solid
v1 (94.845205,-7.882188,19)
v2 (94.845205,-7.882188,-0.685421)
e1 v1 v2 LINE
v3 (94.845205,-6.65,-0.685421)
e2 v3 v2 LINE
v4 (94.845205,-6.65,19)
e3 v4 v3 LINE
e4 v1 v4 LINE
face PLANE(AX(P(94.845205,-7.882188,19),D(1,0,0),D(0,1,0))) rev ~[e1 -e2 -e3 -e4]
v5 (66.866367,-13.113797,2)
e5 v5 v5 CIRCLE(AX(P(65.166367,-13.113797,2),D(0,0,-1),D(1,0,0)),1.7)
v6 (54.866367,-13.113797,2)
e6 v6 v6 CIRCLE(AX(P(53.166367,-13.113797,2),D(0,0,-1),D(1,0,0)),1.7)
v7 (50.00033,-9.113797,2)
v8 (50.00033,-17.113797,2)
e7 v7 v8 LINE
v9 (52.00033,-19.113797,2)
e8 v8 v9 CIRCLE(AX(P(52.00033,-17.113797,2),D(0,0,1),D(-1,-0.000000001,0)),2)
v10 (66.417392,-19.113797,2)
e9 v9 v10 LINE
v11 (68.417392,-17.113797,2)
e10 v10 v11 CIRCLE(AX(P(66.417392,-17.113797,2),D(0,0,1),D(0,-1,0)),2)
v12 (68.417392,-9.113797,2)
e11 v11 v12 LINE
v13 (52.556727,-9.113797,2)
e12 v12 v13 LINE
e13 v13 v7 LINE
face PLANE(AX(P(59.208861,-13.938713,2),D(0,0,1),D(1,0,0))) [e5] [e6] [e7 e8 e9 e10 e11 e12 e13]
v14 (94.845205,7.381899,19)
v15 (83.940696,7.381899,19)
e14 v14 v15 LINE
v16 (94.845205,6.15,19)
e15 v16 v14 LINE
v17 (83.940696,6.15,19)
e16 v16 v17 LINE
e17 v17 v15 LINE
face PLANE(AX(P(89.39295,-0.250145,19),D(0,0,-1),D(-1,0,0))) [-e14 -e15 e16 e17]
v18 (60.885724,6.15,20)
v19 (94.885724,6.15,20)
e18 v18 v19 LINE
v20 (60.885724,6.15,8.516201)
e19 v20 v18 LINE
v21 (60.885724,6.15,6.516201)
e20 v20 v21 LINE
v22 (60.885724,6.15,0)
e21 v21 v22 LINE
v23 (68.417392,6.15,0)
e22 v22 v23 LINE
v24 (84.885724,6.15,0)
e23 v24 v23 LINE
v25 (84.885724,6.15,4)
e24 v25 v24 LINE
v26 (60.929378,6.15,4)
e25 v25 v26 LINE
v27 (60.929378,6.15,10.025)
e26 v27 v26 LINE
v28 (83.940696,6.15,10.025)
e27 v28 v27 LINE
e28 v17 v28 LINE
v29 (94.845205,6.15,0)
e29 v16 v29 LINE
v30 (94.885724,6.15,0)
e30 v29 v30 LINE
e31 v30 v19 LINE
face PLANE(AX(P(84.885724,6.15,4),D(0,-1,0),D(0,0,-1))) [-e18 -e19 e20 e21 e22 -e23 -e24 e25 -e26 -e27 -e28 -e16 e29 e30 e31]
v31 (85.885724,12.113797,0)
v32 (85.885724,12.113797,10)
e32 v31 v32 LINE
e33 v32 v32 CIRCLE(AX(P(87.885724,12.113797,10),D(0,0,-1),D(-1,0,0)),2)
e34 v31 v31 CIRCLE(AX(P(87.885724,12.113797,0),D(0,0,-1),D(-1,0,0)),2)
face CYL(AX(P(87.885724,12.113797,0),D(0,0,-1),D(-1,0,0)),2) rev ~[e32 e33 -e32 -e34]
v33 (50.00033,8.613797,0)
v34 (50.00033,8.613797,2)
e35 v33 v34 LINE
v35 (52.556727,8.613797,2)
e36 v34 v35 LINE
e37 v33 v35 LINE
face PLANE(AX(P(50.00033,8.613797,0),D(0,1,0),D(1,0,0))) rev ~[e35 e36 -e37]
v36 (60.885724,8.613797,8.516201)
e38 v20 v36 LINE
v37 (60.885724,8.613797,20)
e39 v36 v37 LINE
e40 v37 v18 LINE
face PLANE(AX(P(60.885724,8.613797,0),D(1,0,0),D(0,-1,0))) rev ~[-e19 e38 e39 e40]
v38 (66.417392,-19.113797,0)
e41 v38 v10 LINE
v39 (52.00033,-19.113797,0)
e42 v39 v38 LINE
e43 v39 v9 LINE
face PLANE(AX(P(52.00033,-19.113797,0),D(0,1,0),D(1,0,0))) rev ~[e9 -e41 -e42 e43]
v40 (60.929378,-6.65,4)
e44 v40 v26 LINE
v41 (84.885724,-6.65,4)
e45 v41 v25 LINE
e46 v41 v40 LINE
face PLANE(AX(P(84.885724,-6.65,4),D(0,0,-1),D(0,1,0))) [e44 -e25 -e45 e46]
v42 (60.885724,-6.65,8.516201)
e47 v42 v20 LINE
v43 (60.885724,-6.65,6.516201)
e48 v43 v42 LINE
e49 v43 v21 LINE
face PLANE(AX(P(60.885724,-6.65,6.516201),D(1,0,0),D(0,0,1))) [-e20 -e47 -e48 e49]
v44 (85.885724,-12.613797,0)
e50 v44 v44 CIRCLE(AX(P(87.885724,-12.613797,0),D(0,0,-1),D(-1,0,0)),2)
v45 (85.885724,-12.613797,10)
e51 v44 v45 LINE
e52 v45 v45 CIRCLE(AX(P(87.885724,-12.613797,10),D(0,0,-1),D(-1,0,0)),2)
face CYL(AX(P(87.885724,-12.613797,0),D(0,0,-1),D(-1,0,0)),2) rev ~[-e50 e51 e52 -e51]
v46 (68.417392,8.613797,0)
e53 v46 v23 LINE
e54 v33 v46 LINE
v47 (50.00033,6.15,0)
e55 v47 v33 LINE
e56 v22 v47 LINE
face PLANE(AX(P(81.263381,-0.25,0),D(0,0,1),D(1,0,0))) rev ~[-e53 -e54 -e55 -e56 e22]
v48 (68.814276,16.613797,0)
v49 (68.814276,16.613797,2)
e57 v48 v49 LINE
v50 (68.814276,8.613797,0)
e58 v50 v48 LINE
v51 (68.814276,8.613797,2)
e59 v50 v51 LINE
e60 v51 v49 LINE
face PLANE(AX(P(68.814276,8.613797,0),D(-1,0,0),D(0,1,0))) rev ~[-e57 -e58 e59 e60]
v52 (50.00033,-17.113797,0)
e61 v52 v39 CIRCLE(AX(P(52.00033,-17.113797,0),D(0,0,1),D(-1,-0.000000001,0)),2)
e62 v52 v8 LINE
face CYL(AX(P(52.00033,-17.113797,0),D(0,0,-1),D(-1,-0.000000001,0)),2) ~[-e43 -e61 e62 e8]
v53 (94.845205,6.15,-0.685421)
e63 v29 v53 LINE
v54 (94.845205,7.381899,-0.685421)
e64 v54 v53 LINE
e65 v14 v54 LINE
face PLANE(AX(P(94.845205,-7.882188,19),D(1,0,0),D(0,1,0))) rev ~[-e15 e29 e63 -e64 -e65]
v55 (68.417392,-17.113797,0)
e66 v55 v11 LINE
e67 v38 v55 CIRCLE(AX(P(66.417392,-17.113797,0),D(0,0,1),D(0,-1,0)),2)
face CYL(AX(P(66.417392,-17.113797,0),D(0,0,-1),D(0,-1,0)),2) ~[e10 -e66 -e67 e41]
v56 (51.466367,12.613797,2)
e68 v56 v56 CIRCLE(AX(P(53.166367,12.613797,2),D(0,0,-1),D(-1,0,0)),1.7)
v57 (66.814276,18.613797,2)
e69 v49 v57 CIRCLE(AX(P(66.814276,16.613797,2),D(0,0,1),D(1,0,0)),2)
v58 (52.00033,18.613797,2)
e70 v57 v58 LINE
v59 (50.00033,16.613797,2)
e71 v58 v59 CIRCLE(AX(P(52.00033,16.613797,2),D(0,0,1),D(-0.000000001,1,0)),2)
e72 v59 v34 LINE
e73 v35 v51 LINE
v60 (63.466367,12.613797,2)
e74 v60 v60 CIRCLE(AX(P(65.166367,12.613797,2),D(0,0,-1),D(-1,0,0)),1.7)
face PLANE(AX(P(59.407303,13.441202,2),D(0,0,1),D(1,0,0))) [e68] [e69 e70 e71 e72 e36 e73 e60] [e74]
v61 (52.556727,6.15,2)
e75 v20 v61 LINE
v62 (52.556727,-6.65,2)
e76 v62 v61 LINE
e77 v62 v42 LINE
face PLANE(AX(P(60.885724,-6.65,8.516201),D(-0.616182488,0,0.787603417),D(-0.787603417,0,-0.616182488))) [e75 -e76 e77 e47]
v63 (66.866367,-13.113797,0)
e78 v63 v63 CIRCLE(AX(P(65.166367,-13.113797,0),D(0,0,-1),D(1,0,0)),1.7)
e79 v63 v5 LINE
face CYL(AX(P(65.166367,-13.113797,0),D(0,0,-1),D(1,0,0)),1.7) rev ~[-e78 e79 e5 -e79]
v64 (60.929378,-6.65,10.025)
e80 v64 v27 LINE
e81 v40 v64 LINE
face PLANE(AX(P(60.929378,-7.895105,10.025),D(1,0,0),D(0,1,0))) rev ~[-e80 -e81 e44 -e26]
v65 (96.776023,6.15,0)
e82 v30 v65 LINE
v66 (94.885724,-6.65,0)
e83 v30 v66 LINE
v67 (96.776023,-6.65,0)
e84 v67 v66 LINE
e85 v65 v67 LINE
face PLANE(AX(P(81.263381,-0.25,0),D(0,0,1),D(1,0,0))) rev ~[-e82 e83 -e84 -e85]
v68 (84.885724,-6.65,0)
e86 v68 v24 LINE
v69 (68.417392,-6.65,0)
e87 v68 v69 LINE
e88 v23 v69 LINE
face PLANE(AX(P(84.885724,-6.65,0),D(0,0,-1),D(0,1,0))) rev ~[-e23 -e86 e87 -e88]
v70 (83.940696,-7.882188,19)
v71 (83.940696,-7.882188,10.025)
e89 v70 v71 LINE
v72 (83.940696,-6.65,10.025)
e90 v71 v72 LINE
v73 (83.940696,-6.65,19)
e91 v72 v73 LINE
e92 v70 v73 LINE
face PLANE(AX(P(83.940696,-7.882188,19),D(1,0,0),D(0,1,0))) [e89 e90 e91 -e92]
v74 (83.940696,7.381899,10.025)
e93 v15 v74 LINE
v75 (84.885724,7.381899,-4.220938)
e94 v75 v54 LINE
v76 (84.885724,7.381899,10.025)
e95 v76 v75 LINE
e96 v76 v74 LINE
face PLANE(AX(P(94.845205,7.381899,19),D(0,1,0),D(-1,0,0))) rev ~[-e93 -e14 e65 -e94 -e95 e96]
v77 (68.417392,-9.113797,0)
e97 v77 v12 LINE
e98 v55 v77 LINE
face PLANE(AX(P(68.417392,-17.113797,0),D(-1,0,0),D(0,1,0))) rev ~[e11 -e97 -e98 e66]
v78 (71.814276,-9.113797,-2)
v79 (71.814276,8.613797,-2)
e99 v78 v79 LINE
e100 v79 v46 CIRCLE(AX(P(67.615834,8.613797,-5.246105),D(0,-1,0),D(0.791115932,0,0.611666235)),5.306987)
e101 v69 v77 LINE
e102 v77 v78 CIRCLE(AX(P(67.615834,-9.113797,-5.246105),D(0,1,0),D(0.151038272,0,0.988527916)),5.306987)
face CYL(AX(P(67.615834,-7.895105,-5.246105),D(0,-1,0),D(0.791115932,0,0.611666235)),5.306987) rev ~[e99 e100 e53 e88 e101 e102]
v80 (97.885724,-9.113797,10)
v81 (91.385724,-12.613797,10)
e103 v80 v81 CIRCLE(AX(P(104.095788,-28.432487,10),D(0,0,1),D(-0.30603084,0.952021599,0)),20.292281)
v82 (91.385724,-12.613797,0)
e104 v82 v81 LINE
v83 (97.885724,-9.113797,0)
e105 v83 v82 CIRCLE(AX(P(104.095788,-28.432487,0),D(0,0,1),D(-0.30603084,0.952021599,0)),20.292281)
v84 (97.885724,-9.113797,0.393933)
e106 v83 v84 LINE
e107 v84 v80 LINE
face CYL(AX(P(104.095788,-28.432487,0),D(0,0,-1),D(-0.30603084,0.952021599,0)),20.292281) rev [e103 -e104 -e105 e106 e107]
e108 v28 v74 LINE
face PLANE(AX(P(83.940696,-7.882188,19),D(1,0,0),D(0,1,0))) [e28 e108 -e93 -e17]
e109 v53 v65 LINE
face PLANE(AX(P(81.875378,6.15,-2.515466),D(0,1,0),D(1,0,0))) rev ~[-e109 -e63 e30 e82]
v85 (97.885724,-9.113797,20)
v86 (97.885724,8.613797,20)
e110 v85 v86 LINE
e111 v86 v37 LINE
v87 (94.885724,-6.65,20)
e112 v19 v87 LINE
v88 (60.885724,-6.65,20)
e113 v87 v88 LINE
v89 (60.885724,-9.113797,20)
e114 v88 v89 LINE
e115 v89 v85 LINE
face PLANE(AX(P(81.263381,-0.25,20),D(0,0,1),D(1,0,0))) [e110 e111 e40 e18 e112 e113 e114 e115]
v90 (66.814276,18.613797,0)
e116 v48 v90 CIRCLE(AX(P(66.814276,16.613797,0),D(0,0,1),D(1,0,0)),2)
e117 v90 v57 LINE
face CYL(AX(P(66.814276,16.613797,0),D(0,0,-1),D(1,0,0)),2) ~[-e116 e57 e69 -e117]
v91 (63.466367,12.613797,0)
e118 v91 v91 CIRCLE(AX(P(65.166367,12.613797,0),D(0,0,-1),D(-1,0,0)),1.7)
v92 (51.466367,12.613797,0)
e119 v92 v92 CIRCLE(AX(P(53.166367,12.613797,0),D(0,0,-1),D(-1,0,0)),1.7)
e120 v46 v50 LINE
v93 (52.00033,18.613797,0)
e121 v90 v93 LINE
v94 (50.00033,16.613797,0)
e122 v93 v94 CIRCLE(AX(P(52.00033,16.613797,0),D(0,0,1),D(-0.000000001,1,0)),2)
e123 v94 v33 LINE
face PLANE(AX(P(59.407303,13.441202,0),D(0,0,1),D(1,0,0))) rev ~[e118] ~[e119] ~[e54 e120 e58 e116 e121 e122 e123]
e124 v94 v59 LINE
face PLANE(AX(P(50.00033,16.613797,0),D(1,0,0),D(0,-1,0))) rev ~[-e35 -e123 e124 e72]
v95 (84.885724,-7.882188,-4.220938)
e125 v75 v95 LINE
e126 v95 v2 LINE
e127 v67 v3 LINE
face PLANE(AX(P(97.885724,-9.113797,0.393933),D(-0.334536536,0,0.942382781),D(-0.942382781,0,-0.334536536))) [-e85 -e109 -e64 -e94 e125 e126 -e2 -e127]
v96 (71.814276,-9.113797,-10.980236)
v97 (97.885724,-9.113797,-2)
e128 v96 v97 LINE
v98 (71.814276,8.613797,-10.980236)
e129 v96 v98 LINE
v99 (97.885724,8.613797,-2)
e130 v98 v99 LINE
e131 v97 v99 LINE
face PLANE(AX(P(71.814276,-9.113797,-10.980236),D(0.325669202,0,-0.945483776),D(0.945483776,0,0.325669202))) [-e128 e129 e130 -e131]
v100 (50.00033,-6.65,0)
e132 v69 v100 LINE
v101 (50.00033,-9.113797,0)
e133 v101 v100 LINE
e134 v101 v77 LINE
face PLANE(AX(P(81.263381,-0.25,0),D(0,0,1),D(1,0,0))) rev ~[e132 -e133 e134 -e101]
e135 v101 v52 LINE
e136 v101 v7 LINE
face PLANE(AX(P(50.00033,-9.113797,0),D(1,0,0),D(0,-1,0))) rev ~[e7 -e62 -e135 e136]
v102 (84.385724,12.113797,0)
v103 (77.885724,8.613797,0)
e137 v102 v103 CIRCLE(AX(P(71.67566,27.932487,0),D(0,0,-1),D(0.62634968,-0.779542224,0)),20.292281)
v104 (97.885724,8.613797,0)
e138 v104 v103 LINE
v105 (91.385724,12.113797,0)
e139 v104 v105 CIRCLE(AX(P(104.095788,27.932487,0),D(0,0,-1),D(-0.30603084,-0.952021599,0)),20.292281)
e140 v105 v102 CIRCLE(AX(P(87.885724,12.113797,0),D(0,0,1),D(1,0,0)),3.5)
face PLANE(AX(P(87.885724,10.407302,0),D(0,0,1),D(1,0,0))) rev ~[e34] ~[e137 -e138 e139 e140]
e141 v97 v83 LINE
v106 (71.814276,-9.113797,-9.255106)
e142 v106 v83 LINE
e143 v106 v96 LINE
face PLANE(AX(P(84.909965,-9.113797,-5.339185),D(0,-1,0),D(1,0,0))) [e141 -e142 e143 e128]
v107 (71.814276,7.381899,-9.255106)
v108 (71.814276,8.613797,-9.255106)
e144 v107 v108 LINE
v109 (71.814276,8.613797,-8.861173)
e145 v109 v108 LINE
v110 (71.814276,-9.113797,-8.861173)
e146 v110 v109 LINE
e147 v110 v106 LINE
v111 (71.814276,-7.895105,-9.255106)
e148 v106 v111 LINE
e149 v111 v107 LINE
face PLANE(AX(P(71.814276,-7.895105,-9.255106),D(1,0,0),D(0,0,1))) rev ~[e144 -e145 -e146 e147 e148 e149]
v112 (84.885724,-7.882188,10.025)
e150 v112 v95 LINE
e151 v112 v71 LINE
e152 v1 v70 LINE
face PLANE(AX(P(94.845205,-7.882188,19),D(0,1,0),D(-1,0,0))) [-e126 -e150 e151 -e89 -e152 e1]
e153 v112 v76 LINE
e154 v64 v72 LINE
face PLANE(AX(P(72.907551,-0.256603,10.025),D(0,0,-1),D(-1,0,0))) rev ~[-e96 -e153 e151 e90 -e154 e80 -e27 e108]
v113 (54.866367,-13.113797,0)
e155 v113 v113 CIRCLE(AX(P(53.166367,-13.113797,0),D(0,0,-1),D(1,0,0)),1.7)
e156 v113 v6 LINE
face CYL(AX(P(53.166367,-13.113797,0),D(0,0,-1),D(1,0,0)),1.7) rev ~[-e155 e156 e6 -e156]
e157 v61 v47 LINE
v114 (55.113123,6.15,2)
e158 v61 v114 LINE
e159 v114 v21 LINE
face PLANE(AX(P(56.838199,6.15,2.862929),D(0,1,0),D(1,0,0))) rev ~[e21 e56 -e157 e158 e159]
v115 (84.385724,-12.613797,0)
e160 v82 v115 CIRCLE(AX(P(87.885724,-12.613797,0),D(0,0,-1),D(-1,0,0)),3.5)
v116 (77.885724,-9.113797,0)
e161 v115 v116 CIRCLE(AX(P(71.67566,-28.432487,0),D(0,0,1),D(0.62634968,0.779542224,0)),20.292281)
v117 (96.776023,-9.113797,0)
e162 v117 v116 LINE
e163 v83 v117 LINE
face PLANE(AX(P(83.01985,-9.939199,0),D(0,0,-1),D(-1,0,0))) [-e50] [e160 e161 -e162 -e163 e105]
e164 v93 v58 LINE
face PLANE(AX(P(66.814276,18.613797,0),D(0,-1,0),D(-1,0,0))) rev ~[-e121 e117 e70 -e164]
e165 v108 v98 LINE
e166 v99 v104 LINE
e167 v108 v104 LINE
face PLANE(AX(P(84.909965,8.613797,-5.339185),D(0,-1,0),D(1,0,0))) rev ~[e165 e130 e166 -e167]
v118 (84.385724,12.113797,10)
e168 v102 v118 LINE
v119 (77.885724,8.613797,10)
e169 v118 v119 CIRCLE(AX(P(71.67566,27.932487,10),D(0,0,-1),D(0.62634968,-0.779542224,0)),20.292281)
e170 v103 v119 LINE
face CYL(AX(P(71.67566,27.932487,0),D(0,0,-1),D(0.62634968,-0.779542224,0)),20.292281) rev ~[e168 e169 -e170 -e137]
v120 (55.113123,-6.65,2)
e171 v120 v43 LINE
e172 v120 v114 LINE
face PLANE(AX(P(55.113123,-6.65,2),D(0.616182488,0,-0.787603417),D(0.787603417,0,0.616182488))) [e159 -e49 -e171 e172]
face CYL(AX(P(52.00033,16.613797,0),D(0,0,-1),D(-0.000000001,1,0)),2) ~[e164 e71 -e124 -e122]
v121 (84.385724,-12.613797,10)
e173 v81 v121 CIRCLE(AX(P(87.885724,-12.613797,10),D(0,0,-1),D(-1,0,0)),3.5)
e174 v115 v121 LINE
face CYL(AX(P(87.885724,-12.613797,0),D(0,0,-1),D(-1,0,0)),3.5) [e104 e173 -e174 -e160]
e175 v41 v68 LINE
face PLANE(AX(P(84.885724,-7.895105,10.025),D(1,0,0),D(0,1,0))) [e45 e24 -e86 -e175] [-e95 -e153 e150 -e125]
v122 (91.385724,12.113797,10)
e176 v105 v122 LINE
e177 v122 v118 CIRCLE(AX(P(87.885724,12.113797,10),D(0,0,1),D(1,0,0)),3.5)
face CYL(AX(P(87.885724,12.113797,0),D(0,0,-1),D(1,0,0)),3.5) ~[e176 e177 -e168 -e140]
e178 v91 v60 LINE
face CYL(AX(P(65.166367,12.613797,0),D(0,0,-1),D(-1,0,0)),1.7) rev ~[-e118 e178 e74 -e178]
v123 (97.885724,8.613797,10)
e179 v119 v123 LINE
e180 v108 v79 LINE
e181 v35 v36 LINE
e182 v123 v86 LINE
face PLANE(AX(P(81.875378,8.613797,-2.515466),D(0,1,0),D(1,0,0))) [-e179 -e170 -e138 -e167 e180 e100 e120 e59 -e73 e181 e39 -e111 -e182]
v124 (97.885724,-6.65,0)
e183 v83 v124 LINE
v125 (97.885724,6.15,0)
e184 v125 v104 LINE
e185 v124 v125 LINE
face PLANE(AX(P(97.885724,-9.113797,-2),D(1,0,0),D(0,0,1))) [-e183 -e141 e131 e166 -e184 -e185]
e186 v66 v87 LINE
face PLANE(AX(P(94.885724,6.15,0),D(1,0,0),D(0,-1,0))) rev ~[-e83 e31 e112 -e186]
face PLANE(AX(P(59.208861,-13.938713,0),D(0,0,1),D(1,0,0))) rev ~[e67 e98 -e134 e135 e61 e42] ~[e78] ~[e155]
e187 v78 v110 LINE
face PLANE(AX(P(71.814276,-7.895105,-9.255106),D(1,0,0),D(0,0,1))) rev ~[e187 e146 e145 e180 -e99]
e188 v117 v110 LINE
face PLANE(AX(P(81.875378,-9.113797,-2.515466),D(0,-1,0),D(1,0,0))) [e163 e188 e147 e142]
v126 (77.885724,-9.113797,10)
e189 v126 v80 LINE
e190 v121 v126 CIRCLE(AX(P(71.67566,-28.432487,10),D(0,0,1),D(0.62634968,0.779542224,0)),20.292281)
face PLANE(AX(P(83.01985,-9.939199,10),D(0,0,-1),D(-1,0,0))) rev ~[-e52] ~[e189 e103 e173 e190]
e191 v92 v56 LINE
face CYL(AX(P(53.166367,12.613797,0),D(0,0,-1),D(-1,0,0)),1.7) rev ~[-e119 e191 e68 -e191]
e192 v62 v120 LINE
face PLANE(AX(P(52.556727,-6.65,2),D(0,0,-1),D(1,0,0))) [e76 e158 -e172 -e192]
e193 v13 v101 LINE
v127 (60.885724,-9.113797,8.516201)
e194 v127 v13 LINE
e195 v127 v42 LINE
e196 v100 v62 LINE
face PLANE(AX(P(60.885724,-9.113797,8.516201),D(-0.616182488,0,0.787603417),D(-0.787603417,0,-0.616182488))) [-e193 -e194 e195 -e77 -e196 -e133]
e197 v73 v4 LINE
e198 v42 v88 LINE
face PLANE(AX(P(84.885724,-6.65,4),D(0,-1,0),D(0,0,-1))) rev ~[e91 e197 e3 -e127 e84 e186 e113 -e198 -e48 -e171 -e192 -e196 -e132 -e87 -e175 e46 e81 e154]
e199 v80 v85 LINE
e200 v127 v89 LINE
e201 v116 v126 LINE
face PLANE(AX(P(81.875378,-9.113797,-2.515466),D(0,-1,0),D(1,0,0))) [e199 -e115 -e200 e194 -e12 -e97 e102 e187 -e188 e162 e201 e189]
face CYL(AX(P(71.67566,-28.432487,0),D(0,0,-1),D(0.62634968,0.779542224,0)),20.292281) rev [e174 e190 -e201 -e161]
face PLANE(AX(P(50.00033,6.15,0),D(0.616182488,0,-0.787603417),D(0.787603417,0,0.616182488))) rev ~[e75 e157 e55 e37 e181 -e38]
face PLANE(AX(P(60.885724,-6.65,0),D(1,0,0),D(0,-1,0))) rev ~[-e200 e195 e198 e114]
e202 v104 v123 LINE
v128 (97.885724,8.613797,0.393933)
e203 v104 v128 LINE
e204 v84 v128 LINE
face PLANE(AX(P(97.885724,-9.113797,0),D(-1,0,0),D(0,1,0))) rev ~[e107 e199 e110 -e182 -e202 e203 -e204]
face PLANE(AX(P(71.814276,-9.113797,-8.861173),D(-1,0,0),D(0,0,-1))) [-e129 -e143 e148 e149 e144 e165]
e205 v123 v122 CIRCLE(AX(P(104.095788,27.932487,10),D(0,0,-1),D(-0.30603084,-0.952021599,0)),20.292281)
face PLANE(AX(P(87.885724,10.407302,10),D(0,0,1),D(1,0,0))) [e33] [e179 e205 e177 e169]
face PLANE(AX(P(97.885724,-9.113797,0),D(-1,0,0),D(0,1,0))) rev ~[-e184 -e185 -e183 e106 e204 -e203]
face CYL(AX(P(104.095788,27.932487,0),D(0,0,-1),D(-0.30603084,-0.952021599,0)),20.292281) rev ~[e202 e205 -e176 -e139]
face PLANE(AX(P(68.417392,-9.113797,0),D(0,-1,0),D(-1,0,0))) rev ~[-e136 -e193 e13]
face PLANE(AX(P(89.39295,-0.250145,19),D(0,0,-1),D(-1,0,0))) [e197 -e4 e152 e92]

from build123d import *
from build123d.topology import SkipClean

# Parameters (mm, degrees)
SALIENTE_EXTRUIR2_DEPTH      = 20
SALIENTE_EXTRUIR3_START      = -2.463797
SALIENTE_EXTRUIR3_DEPTH      = 2.463797
SALIENTE_EXTRUIR4_DEPTH      = 2.463797195
CROQUIS4_R                   = 2
CROQUIS4_R_2                 = 3.5
SALIENTE_EXTRUIR5_DEPTH      = 10
CORTAR_EXTRUIR1_DEPTH        = 10
CORTAR_EXTRUIR1_DEPTH_BACK   = 19
CROQUIS5_W                   = 10.904508264
CROQUIS5_H                   = 15.264086628
SALIENTE_EXTRUIR6_DEPTH      = 9.255106
SALIENTE_EXTRUIR6_DEPTH_BACK = 10.025
CROQUIS7_W                   = 23.956346688
CROQUIS7_H                   = 15.277003438
CORTAR_EXTRUIR2_DEPTH        = 103.636657602
CROQUIS9_W                   = 4
CROQUIS9_H                   = 12.8
CORTAR_EXTRUIR3_DEPTH        = 44.32026299
SALIENTE_EXTRUIR14_DEPTH     = 17.727594
CROQUIS11_R                  = 1.7
SALIENTE_EXTRUIR15_DEPTH     = 2
SALIENTE_EXTRUIR16_DEPTH     = 12.8


with BuildPart() as part:
    # Croquis1 → Saliente-Extruir2 (new body)
    with BuildSketch(Plane.XY):
        Polygon((60.885724234, -9.113797195), (97.885724234, -9.113797195), (97.885724234, 8.613797195), (60.885724234, 8.613797195), (60.885724234, 6.15), (94.885724234, 6.15), (94.885724234, -6.65), (60.885724234, -6.65), align=None)
    extrude(amount=SALIENTE_EXTRUIR2_DEPTH)

    # Croquis2 → Saliente-Extruir3 (add)
    with SkipClean():  # the faces are left unmerged after this step: merging them gives an invalid solid
        with BuildSketch(Plane(origin=(0, 8.613797195, 0), x_dir=(1, 0, 0), z_dir=(0, 1, 0)).offset(SALIENTE_EXTRUIR3_START)):
            with BuildLine():
                ThreePointArc((71.814275766, 2), (70.308416296, 0.672909982), (68.417392018, 0))
                Line((68.417392018, 0), (97.885724234, 0))
                Line((97.885724234, 0), (71.814275766, 9.255105503))
                Line((71.814275766, 9.255105503), (71.814275766, 2))
            make_face()
            Polygon((50.000330077, 0), (60.885724234, -8.516201314), (60.885724234, 0), align=None)
        extrude(amount=SALIENTE_EXTRUIR3_DEPTH)

    # Croquis3 → Saliente-Extruir4 (add)
    with SkipClean():  # the faces are left unmerged after this step: merging them gives an invalid solid
        with BuildSketch(Plane.XZ.offset(9.113797195)):
            Polygon((60.885724234, 0), (60.885724234, 8.516201314), (50.000330077, 0), align=None)
            with BuildLine():
                Line((94.885724234, 0), (68.417392018, 0))
                ThreePointArc((68.417392018, 0), (70.308416296, -0.672909982), (71.814275766, -2))
                Line((71.814275766, -2), (71.814275766, -9.255105503))
                Line((71.814275766, -9.255105503), (97.885724234, 0))
                Line((97.885724234, 0), (94.885724234, 0))
            make_face()
        extrude(amount=-SALIENTE_EXTRUIR4_DEPTH)

    # Croquis4 → Saliente-Extruir5 (add)
    # profile 1 of 4: a face of its own
    with SkipClean():  # the faces are left unmerged after this step: merging them gives an invalid solid
        with BuildSketch(Plane(origin=(0, 0, 0), x_dir=(-1, 0, 0), z_dir=(0, 0, -1))):
            with BuildLine():
                ThreePointArc((-84.385724234, 12.113797195), (-81.296227313, 10.065720048), (-77.885724234, 8.613797195))
                Line((-77.885724234, 8.613797195), (-97.885724234, 8.613797195))
                ThreePointArc((-97.885724234, 8.613797195), (-94.475221154, 10.065720048), (-91.385724234, 12.113797195))
                ThreePointArc((-91.385724234, 12.113797195), (-87.885724234, 15.613797195), (-84.385724234, 12.113797195))
            make_face()
            with Locations((-87.885724234, 12.113797195)):
                Circle(CROQUIS4_R, mode=Mode.SUBTRACT)
        # profile 2 of 4: a face of its own
        with BuildSketch(Plane(origin=(0, 0, 0), x_dir=(-1, 0, 0), z_dir=(0, 0, -1))):
            with BuildLine():
                ThreePointArc((-91.385724234, -12.613797195), (-90.360597982, -10.138923475), (-87.885724275, -9.113797195))
                Line((-87.885724275, -9.113797195), (-97.885724234, -9.113797195))
                ThreePointArc((-97.885724234, -9.113797195), (-94.475221154, -10.565720048), (-91.385724234, -12.613797195))
            make_face()
        # profile 3 of 4: a face of its own
        with BuildSketch(Plane(origin=(0, 0, 0), x_dir=(-1, 0, 0), z_dir=(0, 0, -1))):
            with BuildLine():
                ThreePointArc((-84.385724234, -12.613797195), (-81.296227313, -10.565720048), (-77.885724234, -9.113797195))
                Line((-77.885724234, -9.113797195), (-87.885724275, -9.113797195))
                ThreePointArc((-87.885724275, -9.113797195), (-85.410850514, -10.138923446), (-84.385724234, -12.613797195))
            make_face()
        # profile 4 of 4: a face of its own
        with BuildSketch(Plane(origin=(0, 0, 0), x_dir=(-1, 0, 0), z_dir=(0, 0, -1))):
            with Locations((-87.885724234, -12.613797195)):
                Circle(CROQUIS4_R_2)
            with Locations((-87.885724234, -12.613797195)):
                Circle(CROQUIS4_R, mode=Mode.SUBTRACT)
        extrude(amount=-SALIENTE_EXTRUIR5_DEPTH)

    # Croquis5 → Cortar-Extruir1 (cut, two sides: drawn at the far end of the back side and taken through both)
    with SkipClean():  # the faces are left unmerged after this step: merging them gives an invalid solid
        with BuildSketch(Plane(origin=(0, 0, 0), x_dir=(-1, 0, 0), z_dir=(0, 0, -1)).offset(-CORTAR_EXTRUIR1_DEPTH_BACK)):
            with Locations((-89.39295043, -0.250144717)):
                Rectangle(CROQUIS5_W, CROQUIS5_H)
        extrude(amount=CORTAR_EXTRUIR1_DEPTH + CORTAR_EXTRUIR1_DEPTH_BACK, mode=Mode.SUBTRACT)

    # Croquis7 → Saliente-Extruir6 (add, two sides: drawn at the far end of the back side and taken through both)
    with SkipClean():  # the faces are left unmerged after this step: merging them gives an invalid solid
        with BuildSketch(Plane(origin=(0, 0, 0), x_dir=(-1, 0, 0), z_dir=(0, 0, -1)).offset(-SALIENTE_EXTRUIR6_DEPTH_BACK)):
            with Locations((-72.90755089, -0.256603122)):
                Rectangle(CROQUIS7_W, CROQUIS7_H)
        extrude(amount=SALIENTE_EXTRUIR6_DEPTH + SALIENTE_EXTRUIR6_DEPTH_BACK)

    # Croquis8 → Cortar-Extruir2 (cut, through all)
    with SkipClean():  # the faces are left unmerged after this step: merging them gives an invalid solid
        with BuildSketch(Plane.XZ.offset(7.895104841)):
            with BuildLine():
                ThreePointArc((71.814275766, -2), (70.308416296, -0.672909982), (68.417392018, 0))
                Line((68.417392018, 0), (60.929377546, 0))
                Line((60.929377546, 0), (60.929377546, -9.255105503))
                Line((60.929377546, -9.255105503), (71.814275766, -9.255105503))
                Line((71.814275766, -9.255105503), (71.814275766, -2))
            make_face()
            Polygon((84.885724234, -4.614871003), (71.814275766, -9.255105503), (84.885724234, -9.255105503), align=None)
        extrude(amount=-CORTAR_EXTRUIR2_DEPTH, mode=Mode.SUBTRACT)


with BuildPart() as cortar_extruir2_kept_piece:
    # of the separate pieces the step leaves, the one the design keeps (cortar_extruir2_pieces_kept)
    add(part.part.solids().sort_by_distance((60.885724234, -9.113797195, 0))[0])

    # Croquis9 → Cortar-Extruir3 (cut, through all)
    with BuildSketch(Plane(origin=(84.885724234, 0, 0), x_dir=(0, 0, -1), z_dir=(1, 0, 0))):
        with Locations((-2, -0.25)):
            Rectangle(CROQUIS9_W, CROQUIS9_H)
    extrude(amount=-CORTAR_EXTRUIR3_DEPTH, mode=Mode.SUBTRACT)

    # Croquis10 → Saliente-Extruir14 (add)
    with SkipClean():  # the faces are left unmerged after this step: merging them gives an invalid solid
        with BuildSketch(Plane.XZ.offset(9.113797195)):
            Polygon((71.814275766, -9.255105503), (71.814275766, -10.980236396), (97.885724234, -2), (97.885724234, 0), (97.885724234, 0.393932893), (71.814275766, -8.86117261), align=None)
        extrude(amount=-SALIENTE_EXTRUIR14_DEPTH)

    # Croquis11 → Saliente-Extruir15 (add)
    # profile 1 of 2: a face of its own
    with SkipClean():  # the faces are left unmerged after this step: merging them gives an invalid solid
        with BuildSketch(Plane(origin=(0, 0, 0), x_dir=(-1, 0, 0), z_dir=(0, 0, -1))):
            with BuildLine():
                Line((-68.417392018, -9.113797195), (-50.000330077, -9.113797195))
                Line((-50.000330077, -9.113797195), (-50.000330077, -17.113797195))
                ThreePointArc((-50.000330077, -17.113797195), (-50.586116515, -18.528010757), (-52.000330077, -19.113797195))
                Line((-52.000330077, -19.113797195), (-66.417392018, -19.113797195))
                ThreePointArc((-66.417392018, -19.113797195), (-67.831605581, -18.528010757), (-68.417392018, -17.113797195))
                Line((-68.417392018, -17.113797195), (-68.417392018, -9.113797195))
            make_face()
            with Locations(Location((-65.166367035, -13.113797195, 0), (0, 0, 180))):
                Circle(CROQUIS11_R, mode=Mode.SUBTRACT)
            with Locations(Location((-53.166367035, -13.113797195, 0), (0, 0, 180))):
                Circle(CROQUIS11_R, mode=Mode.SUBTRACT)
        # profile 2 of 2: a face of its own
        with BuildSketch(Plane(origin=(0, 0, 0), x_dir=(-1, 0, 0), z_dir=(0, 0, -1))):
            with BuildLine():
                Line((-50.000330077, 8.613797195), (-68.814275766, 8.613797195))
                Line((-68.814275766, 8.613797195), (-68.814275766, 16.613797195))
                ThreePointArc((-68.814275766, 16.613797195), (-68.228489329, 18.028010757), (-66.814275766, 18.613797195))
                Line((-66.814275766, 18.613797195), (-52.000330077, 18.613797195))
                ThreePointArc((-52.000330077, 18.613797195), (-50.586116515, 18.028010757), (-50.000330077, 16.613797195))
                Line((-50.000330077, 16.613797195), (-50.000330077, 8.613797195))
            make_face()
            with Locations((-53.166367035, 12.613797195)):
                Circle(CROQUIS11_R, mode=Mode.SUBTRACT)
            with Locations((-65.166367035, 12.613797195)):
                Circle(CROQUIS11_R, mode=Mode.SUBTRACT)
        extrude(amount=-SALIENTE_EXTRUIR15_DEPTH)

    # Croquis12 → Saliente-Extruir16 (add)
    with SkipClean():  # the faces are left unmerged after this step: merging them gives an invalid solid
        with BuildSketch(Plane(origin=(0, -6.65, 0), x_dir=(1, 0, 0), z_dir=(0, 1, 0))):
            Polygon((60.885724234, -8.516201314), (52.556726704, -2), (55.113123331, -2), (60.885724234, -6.516201314), align=None)
        extrude(amount=SALIENTE_EXTRUIR16_DEPTH)


solid = cortar_extruir2_kept_piece.part
